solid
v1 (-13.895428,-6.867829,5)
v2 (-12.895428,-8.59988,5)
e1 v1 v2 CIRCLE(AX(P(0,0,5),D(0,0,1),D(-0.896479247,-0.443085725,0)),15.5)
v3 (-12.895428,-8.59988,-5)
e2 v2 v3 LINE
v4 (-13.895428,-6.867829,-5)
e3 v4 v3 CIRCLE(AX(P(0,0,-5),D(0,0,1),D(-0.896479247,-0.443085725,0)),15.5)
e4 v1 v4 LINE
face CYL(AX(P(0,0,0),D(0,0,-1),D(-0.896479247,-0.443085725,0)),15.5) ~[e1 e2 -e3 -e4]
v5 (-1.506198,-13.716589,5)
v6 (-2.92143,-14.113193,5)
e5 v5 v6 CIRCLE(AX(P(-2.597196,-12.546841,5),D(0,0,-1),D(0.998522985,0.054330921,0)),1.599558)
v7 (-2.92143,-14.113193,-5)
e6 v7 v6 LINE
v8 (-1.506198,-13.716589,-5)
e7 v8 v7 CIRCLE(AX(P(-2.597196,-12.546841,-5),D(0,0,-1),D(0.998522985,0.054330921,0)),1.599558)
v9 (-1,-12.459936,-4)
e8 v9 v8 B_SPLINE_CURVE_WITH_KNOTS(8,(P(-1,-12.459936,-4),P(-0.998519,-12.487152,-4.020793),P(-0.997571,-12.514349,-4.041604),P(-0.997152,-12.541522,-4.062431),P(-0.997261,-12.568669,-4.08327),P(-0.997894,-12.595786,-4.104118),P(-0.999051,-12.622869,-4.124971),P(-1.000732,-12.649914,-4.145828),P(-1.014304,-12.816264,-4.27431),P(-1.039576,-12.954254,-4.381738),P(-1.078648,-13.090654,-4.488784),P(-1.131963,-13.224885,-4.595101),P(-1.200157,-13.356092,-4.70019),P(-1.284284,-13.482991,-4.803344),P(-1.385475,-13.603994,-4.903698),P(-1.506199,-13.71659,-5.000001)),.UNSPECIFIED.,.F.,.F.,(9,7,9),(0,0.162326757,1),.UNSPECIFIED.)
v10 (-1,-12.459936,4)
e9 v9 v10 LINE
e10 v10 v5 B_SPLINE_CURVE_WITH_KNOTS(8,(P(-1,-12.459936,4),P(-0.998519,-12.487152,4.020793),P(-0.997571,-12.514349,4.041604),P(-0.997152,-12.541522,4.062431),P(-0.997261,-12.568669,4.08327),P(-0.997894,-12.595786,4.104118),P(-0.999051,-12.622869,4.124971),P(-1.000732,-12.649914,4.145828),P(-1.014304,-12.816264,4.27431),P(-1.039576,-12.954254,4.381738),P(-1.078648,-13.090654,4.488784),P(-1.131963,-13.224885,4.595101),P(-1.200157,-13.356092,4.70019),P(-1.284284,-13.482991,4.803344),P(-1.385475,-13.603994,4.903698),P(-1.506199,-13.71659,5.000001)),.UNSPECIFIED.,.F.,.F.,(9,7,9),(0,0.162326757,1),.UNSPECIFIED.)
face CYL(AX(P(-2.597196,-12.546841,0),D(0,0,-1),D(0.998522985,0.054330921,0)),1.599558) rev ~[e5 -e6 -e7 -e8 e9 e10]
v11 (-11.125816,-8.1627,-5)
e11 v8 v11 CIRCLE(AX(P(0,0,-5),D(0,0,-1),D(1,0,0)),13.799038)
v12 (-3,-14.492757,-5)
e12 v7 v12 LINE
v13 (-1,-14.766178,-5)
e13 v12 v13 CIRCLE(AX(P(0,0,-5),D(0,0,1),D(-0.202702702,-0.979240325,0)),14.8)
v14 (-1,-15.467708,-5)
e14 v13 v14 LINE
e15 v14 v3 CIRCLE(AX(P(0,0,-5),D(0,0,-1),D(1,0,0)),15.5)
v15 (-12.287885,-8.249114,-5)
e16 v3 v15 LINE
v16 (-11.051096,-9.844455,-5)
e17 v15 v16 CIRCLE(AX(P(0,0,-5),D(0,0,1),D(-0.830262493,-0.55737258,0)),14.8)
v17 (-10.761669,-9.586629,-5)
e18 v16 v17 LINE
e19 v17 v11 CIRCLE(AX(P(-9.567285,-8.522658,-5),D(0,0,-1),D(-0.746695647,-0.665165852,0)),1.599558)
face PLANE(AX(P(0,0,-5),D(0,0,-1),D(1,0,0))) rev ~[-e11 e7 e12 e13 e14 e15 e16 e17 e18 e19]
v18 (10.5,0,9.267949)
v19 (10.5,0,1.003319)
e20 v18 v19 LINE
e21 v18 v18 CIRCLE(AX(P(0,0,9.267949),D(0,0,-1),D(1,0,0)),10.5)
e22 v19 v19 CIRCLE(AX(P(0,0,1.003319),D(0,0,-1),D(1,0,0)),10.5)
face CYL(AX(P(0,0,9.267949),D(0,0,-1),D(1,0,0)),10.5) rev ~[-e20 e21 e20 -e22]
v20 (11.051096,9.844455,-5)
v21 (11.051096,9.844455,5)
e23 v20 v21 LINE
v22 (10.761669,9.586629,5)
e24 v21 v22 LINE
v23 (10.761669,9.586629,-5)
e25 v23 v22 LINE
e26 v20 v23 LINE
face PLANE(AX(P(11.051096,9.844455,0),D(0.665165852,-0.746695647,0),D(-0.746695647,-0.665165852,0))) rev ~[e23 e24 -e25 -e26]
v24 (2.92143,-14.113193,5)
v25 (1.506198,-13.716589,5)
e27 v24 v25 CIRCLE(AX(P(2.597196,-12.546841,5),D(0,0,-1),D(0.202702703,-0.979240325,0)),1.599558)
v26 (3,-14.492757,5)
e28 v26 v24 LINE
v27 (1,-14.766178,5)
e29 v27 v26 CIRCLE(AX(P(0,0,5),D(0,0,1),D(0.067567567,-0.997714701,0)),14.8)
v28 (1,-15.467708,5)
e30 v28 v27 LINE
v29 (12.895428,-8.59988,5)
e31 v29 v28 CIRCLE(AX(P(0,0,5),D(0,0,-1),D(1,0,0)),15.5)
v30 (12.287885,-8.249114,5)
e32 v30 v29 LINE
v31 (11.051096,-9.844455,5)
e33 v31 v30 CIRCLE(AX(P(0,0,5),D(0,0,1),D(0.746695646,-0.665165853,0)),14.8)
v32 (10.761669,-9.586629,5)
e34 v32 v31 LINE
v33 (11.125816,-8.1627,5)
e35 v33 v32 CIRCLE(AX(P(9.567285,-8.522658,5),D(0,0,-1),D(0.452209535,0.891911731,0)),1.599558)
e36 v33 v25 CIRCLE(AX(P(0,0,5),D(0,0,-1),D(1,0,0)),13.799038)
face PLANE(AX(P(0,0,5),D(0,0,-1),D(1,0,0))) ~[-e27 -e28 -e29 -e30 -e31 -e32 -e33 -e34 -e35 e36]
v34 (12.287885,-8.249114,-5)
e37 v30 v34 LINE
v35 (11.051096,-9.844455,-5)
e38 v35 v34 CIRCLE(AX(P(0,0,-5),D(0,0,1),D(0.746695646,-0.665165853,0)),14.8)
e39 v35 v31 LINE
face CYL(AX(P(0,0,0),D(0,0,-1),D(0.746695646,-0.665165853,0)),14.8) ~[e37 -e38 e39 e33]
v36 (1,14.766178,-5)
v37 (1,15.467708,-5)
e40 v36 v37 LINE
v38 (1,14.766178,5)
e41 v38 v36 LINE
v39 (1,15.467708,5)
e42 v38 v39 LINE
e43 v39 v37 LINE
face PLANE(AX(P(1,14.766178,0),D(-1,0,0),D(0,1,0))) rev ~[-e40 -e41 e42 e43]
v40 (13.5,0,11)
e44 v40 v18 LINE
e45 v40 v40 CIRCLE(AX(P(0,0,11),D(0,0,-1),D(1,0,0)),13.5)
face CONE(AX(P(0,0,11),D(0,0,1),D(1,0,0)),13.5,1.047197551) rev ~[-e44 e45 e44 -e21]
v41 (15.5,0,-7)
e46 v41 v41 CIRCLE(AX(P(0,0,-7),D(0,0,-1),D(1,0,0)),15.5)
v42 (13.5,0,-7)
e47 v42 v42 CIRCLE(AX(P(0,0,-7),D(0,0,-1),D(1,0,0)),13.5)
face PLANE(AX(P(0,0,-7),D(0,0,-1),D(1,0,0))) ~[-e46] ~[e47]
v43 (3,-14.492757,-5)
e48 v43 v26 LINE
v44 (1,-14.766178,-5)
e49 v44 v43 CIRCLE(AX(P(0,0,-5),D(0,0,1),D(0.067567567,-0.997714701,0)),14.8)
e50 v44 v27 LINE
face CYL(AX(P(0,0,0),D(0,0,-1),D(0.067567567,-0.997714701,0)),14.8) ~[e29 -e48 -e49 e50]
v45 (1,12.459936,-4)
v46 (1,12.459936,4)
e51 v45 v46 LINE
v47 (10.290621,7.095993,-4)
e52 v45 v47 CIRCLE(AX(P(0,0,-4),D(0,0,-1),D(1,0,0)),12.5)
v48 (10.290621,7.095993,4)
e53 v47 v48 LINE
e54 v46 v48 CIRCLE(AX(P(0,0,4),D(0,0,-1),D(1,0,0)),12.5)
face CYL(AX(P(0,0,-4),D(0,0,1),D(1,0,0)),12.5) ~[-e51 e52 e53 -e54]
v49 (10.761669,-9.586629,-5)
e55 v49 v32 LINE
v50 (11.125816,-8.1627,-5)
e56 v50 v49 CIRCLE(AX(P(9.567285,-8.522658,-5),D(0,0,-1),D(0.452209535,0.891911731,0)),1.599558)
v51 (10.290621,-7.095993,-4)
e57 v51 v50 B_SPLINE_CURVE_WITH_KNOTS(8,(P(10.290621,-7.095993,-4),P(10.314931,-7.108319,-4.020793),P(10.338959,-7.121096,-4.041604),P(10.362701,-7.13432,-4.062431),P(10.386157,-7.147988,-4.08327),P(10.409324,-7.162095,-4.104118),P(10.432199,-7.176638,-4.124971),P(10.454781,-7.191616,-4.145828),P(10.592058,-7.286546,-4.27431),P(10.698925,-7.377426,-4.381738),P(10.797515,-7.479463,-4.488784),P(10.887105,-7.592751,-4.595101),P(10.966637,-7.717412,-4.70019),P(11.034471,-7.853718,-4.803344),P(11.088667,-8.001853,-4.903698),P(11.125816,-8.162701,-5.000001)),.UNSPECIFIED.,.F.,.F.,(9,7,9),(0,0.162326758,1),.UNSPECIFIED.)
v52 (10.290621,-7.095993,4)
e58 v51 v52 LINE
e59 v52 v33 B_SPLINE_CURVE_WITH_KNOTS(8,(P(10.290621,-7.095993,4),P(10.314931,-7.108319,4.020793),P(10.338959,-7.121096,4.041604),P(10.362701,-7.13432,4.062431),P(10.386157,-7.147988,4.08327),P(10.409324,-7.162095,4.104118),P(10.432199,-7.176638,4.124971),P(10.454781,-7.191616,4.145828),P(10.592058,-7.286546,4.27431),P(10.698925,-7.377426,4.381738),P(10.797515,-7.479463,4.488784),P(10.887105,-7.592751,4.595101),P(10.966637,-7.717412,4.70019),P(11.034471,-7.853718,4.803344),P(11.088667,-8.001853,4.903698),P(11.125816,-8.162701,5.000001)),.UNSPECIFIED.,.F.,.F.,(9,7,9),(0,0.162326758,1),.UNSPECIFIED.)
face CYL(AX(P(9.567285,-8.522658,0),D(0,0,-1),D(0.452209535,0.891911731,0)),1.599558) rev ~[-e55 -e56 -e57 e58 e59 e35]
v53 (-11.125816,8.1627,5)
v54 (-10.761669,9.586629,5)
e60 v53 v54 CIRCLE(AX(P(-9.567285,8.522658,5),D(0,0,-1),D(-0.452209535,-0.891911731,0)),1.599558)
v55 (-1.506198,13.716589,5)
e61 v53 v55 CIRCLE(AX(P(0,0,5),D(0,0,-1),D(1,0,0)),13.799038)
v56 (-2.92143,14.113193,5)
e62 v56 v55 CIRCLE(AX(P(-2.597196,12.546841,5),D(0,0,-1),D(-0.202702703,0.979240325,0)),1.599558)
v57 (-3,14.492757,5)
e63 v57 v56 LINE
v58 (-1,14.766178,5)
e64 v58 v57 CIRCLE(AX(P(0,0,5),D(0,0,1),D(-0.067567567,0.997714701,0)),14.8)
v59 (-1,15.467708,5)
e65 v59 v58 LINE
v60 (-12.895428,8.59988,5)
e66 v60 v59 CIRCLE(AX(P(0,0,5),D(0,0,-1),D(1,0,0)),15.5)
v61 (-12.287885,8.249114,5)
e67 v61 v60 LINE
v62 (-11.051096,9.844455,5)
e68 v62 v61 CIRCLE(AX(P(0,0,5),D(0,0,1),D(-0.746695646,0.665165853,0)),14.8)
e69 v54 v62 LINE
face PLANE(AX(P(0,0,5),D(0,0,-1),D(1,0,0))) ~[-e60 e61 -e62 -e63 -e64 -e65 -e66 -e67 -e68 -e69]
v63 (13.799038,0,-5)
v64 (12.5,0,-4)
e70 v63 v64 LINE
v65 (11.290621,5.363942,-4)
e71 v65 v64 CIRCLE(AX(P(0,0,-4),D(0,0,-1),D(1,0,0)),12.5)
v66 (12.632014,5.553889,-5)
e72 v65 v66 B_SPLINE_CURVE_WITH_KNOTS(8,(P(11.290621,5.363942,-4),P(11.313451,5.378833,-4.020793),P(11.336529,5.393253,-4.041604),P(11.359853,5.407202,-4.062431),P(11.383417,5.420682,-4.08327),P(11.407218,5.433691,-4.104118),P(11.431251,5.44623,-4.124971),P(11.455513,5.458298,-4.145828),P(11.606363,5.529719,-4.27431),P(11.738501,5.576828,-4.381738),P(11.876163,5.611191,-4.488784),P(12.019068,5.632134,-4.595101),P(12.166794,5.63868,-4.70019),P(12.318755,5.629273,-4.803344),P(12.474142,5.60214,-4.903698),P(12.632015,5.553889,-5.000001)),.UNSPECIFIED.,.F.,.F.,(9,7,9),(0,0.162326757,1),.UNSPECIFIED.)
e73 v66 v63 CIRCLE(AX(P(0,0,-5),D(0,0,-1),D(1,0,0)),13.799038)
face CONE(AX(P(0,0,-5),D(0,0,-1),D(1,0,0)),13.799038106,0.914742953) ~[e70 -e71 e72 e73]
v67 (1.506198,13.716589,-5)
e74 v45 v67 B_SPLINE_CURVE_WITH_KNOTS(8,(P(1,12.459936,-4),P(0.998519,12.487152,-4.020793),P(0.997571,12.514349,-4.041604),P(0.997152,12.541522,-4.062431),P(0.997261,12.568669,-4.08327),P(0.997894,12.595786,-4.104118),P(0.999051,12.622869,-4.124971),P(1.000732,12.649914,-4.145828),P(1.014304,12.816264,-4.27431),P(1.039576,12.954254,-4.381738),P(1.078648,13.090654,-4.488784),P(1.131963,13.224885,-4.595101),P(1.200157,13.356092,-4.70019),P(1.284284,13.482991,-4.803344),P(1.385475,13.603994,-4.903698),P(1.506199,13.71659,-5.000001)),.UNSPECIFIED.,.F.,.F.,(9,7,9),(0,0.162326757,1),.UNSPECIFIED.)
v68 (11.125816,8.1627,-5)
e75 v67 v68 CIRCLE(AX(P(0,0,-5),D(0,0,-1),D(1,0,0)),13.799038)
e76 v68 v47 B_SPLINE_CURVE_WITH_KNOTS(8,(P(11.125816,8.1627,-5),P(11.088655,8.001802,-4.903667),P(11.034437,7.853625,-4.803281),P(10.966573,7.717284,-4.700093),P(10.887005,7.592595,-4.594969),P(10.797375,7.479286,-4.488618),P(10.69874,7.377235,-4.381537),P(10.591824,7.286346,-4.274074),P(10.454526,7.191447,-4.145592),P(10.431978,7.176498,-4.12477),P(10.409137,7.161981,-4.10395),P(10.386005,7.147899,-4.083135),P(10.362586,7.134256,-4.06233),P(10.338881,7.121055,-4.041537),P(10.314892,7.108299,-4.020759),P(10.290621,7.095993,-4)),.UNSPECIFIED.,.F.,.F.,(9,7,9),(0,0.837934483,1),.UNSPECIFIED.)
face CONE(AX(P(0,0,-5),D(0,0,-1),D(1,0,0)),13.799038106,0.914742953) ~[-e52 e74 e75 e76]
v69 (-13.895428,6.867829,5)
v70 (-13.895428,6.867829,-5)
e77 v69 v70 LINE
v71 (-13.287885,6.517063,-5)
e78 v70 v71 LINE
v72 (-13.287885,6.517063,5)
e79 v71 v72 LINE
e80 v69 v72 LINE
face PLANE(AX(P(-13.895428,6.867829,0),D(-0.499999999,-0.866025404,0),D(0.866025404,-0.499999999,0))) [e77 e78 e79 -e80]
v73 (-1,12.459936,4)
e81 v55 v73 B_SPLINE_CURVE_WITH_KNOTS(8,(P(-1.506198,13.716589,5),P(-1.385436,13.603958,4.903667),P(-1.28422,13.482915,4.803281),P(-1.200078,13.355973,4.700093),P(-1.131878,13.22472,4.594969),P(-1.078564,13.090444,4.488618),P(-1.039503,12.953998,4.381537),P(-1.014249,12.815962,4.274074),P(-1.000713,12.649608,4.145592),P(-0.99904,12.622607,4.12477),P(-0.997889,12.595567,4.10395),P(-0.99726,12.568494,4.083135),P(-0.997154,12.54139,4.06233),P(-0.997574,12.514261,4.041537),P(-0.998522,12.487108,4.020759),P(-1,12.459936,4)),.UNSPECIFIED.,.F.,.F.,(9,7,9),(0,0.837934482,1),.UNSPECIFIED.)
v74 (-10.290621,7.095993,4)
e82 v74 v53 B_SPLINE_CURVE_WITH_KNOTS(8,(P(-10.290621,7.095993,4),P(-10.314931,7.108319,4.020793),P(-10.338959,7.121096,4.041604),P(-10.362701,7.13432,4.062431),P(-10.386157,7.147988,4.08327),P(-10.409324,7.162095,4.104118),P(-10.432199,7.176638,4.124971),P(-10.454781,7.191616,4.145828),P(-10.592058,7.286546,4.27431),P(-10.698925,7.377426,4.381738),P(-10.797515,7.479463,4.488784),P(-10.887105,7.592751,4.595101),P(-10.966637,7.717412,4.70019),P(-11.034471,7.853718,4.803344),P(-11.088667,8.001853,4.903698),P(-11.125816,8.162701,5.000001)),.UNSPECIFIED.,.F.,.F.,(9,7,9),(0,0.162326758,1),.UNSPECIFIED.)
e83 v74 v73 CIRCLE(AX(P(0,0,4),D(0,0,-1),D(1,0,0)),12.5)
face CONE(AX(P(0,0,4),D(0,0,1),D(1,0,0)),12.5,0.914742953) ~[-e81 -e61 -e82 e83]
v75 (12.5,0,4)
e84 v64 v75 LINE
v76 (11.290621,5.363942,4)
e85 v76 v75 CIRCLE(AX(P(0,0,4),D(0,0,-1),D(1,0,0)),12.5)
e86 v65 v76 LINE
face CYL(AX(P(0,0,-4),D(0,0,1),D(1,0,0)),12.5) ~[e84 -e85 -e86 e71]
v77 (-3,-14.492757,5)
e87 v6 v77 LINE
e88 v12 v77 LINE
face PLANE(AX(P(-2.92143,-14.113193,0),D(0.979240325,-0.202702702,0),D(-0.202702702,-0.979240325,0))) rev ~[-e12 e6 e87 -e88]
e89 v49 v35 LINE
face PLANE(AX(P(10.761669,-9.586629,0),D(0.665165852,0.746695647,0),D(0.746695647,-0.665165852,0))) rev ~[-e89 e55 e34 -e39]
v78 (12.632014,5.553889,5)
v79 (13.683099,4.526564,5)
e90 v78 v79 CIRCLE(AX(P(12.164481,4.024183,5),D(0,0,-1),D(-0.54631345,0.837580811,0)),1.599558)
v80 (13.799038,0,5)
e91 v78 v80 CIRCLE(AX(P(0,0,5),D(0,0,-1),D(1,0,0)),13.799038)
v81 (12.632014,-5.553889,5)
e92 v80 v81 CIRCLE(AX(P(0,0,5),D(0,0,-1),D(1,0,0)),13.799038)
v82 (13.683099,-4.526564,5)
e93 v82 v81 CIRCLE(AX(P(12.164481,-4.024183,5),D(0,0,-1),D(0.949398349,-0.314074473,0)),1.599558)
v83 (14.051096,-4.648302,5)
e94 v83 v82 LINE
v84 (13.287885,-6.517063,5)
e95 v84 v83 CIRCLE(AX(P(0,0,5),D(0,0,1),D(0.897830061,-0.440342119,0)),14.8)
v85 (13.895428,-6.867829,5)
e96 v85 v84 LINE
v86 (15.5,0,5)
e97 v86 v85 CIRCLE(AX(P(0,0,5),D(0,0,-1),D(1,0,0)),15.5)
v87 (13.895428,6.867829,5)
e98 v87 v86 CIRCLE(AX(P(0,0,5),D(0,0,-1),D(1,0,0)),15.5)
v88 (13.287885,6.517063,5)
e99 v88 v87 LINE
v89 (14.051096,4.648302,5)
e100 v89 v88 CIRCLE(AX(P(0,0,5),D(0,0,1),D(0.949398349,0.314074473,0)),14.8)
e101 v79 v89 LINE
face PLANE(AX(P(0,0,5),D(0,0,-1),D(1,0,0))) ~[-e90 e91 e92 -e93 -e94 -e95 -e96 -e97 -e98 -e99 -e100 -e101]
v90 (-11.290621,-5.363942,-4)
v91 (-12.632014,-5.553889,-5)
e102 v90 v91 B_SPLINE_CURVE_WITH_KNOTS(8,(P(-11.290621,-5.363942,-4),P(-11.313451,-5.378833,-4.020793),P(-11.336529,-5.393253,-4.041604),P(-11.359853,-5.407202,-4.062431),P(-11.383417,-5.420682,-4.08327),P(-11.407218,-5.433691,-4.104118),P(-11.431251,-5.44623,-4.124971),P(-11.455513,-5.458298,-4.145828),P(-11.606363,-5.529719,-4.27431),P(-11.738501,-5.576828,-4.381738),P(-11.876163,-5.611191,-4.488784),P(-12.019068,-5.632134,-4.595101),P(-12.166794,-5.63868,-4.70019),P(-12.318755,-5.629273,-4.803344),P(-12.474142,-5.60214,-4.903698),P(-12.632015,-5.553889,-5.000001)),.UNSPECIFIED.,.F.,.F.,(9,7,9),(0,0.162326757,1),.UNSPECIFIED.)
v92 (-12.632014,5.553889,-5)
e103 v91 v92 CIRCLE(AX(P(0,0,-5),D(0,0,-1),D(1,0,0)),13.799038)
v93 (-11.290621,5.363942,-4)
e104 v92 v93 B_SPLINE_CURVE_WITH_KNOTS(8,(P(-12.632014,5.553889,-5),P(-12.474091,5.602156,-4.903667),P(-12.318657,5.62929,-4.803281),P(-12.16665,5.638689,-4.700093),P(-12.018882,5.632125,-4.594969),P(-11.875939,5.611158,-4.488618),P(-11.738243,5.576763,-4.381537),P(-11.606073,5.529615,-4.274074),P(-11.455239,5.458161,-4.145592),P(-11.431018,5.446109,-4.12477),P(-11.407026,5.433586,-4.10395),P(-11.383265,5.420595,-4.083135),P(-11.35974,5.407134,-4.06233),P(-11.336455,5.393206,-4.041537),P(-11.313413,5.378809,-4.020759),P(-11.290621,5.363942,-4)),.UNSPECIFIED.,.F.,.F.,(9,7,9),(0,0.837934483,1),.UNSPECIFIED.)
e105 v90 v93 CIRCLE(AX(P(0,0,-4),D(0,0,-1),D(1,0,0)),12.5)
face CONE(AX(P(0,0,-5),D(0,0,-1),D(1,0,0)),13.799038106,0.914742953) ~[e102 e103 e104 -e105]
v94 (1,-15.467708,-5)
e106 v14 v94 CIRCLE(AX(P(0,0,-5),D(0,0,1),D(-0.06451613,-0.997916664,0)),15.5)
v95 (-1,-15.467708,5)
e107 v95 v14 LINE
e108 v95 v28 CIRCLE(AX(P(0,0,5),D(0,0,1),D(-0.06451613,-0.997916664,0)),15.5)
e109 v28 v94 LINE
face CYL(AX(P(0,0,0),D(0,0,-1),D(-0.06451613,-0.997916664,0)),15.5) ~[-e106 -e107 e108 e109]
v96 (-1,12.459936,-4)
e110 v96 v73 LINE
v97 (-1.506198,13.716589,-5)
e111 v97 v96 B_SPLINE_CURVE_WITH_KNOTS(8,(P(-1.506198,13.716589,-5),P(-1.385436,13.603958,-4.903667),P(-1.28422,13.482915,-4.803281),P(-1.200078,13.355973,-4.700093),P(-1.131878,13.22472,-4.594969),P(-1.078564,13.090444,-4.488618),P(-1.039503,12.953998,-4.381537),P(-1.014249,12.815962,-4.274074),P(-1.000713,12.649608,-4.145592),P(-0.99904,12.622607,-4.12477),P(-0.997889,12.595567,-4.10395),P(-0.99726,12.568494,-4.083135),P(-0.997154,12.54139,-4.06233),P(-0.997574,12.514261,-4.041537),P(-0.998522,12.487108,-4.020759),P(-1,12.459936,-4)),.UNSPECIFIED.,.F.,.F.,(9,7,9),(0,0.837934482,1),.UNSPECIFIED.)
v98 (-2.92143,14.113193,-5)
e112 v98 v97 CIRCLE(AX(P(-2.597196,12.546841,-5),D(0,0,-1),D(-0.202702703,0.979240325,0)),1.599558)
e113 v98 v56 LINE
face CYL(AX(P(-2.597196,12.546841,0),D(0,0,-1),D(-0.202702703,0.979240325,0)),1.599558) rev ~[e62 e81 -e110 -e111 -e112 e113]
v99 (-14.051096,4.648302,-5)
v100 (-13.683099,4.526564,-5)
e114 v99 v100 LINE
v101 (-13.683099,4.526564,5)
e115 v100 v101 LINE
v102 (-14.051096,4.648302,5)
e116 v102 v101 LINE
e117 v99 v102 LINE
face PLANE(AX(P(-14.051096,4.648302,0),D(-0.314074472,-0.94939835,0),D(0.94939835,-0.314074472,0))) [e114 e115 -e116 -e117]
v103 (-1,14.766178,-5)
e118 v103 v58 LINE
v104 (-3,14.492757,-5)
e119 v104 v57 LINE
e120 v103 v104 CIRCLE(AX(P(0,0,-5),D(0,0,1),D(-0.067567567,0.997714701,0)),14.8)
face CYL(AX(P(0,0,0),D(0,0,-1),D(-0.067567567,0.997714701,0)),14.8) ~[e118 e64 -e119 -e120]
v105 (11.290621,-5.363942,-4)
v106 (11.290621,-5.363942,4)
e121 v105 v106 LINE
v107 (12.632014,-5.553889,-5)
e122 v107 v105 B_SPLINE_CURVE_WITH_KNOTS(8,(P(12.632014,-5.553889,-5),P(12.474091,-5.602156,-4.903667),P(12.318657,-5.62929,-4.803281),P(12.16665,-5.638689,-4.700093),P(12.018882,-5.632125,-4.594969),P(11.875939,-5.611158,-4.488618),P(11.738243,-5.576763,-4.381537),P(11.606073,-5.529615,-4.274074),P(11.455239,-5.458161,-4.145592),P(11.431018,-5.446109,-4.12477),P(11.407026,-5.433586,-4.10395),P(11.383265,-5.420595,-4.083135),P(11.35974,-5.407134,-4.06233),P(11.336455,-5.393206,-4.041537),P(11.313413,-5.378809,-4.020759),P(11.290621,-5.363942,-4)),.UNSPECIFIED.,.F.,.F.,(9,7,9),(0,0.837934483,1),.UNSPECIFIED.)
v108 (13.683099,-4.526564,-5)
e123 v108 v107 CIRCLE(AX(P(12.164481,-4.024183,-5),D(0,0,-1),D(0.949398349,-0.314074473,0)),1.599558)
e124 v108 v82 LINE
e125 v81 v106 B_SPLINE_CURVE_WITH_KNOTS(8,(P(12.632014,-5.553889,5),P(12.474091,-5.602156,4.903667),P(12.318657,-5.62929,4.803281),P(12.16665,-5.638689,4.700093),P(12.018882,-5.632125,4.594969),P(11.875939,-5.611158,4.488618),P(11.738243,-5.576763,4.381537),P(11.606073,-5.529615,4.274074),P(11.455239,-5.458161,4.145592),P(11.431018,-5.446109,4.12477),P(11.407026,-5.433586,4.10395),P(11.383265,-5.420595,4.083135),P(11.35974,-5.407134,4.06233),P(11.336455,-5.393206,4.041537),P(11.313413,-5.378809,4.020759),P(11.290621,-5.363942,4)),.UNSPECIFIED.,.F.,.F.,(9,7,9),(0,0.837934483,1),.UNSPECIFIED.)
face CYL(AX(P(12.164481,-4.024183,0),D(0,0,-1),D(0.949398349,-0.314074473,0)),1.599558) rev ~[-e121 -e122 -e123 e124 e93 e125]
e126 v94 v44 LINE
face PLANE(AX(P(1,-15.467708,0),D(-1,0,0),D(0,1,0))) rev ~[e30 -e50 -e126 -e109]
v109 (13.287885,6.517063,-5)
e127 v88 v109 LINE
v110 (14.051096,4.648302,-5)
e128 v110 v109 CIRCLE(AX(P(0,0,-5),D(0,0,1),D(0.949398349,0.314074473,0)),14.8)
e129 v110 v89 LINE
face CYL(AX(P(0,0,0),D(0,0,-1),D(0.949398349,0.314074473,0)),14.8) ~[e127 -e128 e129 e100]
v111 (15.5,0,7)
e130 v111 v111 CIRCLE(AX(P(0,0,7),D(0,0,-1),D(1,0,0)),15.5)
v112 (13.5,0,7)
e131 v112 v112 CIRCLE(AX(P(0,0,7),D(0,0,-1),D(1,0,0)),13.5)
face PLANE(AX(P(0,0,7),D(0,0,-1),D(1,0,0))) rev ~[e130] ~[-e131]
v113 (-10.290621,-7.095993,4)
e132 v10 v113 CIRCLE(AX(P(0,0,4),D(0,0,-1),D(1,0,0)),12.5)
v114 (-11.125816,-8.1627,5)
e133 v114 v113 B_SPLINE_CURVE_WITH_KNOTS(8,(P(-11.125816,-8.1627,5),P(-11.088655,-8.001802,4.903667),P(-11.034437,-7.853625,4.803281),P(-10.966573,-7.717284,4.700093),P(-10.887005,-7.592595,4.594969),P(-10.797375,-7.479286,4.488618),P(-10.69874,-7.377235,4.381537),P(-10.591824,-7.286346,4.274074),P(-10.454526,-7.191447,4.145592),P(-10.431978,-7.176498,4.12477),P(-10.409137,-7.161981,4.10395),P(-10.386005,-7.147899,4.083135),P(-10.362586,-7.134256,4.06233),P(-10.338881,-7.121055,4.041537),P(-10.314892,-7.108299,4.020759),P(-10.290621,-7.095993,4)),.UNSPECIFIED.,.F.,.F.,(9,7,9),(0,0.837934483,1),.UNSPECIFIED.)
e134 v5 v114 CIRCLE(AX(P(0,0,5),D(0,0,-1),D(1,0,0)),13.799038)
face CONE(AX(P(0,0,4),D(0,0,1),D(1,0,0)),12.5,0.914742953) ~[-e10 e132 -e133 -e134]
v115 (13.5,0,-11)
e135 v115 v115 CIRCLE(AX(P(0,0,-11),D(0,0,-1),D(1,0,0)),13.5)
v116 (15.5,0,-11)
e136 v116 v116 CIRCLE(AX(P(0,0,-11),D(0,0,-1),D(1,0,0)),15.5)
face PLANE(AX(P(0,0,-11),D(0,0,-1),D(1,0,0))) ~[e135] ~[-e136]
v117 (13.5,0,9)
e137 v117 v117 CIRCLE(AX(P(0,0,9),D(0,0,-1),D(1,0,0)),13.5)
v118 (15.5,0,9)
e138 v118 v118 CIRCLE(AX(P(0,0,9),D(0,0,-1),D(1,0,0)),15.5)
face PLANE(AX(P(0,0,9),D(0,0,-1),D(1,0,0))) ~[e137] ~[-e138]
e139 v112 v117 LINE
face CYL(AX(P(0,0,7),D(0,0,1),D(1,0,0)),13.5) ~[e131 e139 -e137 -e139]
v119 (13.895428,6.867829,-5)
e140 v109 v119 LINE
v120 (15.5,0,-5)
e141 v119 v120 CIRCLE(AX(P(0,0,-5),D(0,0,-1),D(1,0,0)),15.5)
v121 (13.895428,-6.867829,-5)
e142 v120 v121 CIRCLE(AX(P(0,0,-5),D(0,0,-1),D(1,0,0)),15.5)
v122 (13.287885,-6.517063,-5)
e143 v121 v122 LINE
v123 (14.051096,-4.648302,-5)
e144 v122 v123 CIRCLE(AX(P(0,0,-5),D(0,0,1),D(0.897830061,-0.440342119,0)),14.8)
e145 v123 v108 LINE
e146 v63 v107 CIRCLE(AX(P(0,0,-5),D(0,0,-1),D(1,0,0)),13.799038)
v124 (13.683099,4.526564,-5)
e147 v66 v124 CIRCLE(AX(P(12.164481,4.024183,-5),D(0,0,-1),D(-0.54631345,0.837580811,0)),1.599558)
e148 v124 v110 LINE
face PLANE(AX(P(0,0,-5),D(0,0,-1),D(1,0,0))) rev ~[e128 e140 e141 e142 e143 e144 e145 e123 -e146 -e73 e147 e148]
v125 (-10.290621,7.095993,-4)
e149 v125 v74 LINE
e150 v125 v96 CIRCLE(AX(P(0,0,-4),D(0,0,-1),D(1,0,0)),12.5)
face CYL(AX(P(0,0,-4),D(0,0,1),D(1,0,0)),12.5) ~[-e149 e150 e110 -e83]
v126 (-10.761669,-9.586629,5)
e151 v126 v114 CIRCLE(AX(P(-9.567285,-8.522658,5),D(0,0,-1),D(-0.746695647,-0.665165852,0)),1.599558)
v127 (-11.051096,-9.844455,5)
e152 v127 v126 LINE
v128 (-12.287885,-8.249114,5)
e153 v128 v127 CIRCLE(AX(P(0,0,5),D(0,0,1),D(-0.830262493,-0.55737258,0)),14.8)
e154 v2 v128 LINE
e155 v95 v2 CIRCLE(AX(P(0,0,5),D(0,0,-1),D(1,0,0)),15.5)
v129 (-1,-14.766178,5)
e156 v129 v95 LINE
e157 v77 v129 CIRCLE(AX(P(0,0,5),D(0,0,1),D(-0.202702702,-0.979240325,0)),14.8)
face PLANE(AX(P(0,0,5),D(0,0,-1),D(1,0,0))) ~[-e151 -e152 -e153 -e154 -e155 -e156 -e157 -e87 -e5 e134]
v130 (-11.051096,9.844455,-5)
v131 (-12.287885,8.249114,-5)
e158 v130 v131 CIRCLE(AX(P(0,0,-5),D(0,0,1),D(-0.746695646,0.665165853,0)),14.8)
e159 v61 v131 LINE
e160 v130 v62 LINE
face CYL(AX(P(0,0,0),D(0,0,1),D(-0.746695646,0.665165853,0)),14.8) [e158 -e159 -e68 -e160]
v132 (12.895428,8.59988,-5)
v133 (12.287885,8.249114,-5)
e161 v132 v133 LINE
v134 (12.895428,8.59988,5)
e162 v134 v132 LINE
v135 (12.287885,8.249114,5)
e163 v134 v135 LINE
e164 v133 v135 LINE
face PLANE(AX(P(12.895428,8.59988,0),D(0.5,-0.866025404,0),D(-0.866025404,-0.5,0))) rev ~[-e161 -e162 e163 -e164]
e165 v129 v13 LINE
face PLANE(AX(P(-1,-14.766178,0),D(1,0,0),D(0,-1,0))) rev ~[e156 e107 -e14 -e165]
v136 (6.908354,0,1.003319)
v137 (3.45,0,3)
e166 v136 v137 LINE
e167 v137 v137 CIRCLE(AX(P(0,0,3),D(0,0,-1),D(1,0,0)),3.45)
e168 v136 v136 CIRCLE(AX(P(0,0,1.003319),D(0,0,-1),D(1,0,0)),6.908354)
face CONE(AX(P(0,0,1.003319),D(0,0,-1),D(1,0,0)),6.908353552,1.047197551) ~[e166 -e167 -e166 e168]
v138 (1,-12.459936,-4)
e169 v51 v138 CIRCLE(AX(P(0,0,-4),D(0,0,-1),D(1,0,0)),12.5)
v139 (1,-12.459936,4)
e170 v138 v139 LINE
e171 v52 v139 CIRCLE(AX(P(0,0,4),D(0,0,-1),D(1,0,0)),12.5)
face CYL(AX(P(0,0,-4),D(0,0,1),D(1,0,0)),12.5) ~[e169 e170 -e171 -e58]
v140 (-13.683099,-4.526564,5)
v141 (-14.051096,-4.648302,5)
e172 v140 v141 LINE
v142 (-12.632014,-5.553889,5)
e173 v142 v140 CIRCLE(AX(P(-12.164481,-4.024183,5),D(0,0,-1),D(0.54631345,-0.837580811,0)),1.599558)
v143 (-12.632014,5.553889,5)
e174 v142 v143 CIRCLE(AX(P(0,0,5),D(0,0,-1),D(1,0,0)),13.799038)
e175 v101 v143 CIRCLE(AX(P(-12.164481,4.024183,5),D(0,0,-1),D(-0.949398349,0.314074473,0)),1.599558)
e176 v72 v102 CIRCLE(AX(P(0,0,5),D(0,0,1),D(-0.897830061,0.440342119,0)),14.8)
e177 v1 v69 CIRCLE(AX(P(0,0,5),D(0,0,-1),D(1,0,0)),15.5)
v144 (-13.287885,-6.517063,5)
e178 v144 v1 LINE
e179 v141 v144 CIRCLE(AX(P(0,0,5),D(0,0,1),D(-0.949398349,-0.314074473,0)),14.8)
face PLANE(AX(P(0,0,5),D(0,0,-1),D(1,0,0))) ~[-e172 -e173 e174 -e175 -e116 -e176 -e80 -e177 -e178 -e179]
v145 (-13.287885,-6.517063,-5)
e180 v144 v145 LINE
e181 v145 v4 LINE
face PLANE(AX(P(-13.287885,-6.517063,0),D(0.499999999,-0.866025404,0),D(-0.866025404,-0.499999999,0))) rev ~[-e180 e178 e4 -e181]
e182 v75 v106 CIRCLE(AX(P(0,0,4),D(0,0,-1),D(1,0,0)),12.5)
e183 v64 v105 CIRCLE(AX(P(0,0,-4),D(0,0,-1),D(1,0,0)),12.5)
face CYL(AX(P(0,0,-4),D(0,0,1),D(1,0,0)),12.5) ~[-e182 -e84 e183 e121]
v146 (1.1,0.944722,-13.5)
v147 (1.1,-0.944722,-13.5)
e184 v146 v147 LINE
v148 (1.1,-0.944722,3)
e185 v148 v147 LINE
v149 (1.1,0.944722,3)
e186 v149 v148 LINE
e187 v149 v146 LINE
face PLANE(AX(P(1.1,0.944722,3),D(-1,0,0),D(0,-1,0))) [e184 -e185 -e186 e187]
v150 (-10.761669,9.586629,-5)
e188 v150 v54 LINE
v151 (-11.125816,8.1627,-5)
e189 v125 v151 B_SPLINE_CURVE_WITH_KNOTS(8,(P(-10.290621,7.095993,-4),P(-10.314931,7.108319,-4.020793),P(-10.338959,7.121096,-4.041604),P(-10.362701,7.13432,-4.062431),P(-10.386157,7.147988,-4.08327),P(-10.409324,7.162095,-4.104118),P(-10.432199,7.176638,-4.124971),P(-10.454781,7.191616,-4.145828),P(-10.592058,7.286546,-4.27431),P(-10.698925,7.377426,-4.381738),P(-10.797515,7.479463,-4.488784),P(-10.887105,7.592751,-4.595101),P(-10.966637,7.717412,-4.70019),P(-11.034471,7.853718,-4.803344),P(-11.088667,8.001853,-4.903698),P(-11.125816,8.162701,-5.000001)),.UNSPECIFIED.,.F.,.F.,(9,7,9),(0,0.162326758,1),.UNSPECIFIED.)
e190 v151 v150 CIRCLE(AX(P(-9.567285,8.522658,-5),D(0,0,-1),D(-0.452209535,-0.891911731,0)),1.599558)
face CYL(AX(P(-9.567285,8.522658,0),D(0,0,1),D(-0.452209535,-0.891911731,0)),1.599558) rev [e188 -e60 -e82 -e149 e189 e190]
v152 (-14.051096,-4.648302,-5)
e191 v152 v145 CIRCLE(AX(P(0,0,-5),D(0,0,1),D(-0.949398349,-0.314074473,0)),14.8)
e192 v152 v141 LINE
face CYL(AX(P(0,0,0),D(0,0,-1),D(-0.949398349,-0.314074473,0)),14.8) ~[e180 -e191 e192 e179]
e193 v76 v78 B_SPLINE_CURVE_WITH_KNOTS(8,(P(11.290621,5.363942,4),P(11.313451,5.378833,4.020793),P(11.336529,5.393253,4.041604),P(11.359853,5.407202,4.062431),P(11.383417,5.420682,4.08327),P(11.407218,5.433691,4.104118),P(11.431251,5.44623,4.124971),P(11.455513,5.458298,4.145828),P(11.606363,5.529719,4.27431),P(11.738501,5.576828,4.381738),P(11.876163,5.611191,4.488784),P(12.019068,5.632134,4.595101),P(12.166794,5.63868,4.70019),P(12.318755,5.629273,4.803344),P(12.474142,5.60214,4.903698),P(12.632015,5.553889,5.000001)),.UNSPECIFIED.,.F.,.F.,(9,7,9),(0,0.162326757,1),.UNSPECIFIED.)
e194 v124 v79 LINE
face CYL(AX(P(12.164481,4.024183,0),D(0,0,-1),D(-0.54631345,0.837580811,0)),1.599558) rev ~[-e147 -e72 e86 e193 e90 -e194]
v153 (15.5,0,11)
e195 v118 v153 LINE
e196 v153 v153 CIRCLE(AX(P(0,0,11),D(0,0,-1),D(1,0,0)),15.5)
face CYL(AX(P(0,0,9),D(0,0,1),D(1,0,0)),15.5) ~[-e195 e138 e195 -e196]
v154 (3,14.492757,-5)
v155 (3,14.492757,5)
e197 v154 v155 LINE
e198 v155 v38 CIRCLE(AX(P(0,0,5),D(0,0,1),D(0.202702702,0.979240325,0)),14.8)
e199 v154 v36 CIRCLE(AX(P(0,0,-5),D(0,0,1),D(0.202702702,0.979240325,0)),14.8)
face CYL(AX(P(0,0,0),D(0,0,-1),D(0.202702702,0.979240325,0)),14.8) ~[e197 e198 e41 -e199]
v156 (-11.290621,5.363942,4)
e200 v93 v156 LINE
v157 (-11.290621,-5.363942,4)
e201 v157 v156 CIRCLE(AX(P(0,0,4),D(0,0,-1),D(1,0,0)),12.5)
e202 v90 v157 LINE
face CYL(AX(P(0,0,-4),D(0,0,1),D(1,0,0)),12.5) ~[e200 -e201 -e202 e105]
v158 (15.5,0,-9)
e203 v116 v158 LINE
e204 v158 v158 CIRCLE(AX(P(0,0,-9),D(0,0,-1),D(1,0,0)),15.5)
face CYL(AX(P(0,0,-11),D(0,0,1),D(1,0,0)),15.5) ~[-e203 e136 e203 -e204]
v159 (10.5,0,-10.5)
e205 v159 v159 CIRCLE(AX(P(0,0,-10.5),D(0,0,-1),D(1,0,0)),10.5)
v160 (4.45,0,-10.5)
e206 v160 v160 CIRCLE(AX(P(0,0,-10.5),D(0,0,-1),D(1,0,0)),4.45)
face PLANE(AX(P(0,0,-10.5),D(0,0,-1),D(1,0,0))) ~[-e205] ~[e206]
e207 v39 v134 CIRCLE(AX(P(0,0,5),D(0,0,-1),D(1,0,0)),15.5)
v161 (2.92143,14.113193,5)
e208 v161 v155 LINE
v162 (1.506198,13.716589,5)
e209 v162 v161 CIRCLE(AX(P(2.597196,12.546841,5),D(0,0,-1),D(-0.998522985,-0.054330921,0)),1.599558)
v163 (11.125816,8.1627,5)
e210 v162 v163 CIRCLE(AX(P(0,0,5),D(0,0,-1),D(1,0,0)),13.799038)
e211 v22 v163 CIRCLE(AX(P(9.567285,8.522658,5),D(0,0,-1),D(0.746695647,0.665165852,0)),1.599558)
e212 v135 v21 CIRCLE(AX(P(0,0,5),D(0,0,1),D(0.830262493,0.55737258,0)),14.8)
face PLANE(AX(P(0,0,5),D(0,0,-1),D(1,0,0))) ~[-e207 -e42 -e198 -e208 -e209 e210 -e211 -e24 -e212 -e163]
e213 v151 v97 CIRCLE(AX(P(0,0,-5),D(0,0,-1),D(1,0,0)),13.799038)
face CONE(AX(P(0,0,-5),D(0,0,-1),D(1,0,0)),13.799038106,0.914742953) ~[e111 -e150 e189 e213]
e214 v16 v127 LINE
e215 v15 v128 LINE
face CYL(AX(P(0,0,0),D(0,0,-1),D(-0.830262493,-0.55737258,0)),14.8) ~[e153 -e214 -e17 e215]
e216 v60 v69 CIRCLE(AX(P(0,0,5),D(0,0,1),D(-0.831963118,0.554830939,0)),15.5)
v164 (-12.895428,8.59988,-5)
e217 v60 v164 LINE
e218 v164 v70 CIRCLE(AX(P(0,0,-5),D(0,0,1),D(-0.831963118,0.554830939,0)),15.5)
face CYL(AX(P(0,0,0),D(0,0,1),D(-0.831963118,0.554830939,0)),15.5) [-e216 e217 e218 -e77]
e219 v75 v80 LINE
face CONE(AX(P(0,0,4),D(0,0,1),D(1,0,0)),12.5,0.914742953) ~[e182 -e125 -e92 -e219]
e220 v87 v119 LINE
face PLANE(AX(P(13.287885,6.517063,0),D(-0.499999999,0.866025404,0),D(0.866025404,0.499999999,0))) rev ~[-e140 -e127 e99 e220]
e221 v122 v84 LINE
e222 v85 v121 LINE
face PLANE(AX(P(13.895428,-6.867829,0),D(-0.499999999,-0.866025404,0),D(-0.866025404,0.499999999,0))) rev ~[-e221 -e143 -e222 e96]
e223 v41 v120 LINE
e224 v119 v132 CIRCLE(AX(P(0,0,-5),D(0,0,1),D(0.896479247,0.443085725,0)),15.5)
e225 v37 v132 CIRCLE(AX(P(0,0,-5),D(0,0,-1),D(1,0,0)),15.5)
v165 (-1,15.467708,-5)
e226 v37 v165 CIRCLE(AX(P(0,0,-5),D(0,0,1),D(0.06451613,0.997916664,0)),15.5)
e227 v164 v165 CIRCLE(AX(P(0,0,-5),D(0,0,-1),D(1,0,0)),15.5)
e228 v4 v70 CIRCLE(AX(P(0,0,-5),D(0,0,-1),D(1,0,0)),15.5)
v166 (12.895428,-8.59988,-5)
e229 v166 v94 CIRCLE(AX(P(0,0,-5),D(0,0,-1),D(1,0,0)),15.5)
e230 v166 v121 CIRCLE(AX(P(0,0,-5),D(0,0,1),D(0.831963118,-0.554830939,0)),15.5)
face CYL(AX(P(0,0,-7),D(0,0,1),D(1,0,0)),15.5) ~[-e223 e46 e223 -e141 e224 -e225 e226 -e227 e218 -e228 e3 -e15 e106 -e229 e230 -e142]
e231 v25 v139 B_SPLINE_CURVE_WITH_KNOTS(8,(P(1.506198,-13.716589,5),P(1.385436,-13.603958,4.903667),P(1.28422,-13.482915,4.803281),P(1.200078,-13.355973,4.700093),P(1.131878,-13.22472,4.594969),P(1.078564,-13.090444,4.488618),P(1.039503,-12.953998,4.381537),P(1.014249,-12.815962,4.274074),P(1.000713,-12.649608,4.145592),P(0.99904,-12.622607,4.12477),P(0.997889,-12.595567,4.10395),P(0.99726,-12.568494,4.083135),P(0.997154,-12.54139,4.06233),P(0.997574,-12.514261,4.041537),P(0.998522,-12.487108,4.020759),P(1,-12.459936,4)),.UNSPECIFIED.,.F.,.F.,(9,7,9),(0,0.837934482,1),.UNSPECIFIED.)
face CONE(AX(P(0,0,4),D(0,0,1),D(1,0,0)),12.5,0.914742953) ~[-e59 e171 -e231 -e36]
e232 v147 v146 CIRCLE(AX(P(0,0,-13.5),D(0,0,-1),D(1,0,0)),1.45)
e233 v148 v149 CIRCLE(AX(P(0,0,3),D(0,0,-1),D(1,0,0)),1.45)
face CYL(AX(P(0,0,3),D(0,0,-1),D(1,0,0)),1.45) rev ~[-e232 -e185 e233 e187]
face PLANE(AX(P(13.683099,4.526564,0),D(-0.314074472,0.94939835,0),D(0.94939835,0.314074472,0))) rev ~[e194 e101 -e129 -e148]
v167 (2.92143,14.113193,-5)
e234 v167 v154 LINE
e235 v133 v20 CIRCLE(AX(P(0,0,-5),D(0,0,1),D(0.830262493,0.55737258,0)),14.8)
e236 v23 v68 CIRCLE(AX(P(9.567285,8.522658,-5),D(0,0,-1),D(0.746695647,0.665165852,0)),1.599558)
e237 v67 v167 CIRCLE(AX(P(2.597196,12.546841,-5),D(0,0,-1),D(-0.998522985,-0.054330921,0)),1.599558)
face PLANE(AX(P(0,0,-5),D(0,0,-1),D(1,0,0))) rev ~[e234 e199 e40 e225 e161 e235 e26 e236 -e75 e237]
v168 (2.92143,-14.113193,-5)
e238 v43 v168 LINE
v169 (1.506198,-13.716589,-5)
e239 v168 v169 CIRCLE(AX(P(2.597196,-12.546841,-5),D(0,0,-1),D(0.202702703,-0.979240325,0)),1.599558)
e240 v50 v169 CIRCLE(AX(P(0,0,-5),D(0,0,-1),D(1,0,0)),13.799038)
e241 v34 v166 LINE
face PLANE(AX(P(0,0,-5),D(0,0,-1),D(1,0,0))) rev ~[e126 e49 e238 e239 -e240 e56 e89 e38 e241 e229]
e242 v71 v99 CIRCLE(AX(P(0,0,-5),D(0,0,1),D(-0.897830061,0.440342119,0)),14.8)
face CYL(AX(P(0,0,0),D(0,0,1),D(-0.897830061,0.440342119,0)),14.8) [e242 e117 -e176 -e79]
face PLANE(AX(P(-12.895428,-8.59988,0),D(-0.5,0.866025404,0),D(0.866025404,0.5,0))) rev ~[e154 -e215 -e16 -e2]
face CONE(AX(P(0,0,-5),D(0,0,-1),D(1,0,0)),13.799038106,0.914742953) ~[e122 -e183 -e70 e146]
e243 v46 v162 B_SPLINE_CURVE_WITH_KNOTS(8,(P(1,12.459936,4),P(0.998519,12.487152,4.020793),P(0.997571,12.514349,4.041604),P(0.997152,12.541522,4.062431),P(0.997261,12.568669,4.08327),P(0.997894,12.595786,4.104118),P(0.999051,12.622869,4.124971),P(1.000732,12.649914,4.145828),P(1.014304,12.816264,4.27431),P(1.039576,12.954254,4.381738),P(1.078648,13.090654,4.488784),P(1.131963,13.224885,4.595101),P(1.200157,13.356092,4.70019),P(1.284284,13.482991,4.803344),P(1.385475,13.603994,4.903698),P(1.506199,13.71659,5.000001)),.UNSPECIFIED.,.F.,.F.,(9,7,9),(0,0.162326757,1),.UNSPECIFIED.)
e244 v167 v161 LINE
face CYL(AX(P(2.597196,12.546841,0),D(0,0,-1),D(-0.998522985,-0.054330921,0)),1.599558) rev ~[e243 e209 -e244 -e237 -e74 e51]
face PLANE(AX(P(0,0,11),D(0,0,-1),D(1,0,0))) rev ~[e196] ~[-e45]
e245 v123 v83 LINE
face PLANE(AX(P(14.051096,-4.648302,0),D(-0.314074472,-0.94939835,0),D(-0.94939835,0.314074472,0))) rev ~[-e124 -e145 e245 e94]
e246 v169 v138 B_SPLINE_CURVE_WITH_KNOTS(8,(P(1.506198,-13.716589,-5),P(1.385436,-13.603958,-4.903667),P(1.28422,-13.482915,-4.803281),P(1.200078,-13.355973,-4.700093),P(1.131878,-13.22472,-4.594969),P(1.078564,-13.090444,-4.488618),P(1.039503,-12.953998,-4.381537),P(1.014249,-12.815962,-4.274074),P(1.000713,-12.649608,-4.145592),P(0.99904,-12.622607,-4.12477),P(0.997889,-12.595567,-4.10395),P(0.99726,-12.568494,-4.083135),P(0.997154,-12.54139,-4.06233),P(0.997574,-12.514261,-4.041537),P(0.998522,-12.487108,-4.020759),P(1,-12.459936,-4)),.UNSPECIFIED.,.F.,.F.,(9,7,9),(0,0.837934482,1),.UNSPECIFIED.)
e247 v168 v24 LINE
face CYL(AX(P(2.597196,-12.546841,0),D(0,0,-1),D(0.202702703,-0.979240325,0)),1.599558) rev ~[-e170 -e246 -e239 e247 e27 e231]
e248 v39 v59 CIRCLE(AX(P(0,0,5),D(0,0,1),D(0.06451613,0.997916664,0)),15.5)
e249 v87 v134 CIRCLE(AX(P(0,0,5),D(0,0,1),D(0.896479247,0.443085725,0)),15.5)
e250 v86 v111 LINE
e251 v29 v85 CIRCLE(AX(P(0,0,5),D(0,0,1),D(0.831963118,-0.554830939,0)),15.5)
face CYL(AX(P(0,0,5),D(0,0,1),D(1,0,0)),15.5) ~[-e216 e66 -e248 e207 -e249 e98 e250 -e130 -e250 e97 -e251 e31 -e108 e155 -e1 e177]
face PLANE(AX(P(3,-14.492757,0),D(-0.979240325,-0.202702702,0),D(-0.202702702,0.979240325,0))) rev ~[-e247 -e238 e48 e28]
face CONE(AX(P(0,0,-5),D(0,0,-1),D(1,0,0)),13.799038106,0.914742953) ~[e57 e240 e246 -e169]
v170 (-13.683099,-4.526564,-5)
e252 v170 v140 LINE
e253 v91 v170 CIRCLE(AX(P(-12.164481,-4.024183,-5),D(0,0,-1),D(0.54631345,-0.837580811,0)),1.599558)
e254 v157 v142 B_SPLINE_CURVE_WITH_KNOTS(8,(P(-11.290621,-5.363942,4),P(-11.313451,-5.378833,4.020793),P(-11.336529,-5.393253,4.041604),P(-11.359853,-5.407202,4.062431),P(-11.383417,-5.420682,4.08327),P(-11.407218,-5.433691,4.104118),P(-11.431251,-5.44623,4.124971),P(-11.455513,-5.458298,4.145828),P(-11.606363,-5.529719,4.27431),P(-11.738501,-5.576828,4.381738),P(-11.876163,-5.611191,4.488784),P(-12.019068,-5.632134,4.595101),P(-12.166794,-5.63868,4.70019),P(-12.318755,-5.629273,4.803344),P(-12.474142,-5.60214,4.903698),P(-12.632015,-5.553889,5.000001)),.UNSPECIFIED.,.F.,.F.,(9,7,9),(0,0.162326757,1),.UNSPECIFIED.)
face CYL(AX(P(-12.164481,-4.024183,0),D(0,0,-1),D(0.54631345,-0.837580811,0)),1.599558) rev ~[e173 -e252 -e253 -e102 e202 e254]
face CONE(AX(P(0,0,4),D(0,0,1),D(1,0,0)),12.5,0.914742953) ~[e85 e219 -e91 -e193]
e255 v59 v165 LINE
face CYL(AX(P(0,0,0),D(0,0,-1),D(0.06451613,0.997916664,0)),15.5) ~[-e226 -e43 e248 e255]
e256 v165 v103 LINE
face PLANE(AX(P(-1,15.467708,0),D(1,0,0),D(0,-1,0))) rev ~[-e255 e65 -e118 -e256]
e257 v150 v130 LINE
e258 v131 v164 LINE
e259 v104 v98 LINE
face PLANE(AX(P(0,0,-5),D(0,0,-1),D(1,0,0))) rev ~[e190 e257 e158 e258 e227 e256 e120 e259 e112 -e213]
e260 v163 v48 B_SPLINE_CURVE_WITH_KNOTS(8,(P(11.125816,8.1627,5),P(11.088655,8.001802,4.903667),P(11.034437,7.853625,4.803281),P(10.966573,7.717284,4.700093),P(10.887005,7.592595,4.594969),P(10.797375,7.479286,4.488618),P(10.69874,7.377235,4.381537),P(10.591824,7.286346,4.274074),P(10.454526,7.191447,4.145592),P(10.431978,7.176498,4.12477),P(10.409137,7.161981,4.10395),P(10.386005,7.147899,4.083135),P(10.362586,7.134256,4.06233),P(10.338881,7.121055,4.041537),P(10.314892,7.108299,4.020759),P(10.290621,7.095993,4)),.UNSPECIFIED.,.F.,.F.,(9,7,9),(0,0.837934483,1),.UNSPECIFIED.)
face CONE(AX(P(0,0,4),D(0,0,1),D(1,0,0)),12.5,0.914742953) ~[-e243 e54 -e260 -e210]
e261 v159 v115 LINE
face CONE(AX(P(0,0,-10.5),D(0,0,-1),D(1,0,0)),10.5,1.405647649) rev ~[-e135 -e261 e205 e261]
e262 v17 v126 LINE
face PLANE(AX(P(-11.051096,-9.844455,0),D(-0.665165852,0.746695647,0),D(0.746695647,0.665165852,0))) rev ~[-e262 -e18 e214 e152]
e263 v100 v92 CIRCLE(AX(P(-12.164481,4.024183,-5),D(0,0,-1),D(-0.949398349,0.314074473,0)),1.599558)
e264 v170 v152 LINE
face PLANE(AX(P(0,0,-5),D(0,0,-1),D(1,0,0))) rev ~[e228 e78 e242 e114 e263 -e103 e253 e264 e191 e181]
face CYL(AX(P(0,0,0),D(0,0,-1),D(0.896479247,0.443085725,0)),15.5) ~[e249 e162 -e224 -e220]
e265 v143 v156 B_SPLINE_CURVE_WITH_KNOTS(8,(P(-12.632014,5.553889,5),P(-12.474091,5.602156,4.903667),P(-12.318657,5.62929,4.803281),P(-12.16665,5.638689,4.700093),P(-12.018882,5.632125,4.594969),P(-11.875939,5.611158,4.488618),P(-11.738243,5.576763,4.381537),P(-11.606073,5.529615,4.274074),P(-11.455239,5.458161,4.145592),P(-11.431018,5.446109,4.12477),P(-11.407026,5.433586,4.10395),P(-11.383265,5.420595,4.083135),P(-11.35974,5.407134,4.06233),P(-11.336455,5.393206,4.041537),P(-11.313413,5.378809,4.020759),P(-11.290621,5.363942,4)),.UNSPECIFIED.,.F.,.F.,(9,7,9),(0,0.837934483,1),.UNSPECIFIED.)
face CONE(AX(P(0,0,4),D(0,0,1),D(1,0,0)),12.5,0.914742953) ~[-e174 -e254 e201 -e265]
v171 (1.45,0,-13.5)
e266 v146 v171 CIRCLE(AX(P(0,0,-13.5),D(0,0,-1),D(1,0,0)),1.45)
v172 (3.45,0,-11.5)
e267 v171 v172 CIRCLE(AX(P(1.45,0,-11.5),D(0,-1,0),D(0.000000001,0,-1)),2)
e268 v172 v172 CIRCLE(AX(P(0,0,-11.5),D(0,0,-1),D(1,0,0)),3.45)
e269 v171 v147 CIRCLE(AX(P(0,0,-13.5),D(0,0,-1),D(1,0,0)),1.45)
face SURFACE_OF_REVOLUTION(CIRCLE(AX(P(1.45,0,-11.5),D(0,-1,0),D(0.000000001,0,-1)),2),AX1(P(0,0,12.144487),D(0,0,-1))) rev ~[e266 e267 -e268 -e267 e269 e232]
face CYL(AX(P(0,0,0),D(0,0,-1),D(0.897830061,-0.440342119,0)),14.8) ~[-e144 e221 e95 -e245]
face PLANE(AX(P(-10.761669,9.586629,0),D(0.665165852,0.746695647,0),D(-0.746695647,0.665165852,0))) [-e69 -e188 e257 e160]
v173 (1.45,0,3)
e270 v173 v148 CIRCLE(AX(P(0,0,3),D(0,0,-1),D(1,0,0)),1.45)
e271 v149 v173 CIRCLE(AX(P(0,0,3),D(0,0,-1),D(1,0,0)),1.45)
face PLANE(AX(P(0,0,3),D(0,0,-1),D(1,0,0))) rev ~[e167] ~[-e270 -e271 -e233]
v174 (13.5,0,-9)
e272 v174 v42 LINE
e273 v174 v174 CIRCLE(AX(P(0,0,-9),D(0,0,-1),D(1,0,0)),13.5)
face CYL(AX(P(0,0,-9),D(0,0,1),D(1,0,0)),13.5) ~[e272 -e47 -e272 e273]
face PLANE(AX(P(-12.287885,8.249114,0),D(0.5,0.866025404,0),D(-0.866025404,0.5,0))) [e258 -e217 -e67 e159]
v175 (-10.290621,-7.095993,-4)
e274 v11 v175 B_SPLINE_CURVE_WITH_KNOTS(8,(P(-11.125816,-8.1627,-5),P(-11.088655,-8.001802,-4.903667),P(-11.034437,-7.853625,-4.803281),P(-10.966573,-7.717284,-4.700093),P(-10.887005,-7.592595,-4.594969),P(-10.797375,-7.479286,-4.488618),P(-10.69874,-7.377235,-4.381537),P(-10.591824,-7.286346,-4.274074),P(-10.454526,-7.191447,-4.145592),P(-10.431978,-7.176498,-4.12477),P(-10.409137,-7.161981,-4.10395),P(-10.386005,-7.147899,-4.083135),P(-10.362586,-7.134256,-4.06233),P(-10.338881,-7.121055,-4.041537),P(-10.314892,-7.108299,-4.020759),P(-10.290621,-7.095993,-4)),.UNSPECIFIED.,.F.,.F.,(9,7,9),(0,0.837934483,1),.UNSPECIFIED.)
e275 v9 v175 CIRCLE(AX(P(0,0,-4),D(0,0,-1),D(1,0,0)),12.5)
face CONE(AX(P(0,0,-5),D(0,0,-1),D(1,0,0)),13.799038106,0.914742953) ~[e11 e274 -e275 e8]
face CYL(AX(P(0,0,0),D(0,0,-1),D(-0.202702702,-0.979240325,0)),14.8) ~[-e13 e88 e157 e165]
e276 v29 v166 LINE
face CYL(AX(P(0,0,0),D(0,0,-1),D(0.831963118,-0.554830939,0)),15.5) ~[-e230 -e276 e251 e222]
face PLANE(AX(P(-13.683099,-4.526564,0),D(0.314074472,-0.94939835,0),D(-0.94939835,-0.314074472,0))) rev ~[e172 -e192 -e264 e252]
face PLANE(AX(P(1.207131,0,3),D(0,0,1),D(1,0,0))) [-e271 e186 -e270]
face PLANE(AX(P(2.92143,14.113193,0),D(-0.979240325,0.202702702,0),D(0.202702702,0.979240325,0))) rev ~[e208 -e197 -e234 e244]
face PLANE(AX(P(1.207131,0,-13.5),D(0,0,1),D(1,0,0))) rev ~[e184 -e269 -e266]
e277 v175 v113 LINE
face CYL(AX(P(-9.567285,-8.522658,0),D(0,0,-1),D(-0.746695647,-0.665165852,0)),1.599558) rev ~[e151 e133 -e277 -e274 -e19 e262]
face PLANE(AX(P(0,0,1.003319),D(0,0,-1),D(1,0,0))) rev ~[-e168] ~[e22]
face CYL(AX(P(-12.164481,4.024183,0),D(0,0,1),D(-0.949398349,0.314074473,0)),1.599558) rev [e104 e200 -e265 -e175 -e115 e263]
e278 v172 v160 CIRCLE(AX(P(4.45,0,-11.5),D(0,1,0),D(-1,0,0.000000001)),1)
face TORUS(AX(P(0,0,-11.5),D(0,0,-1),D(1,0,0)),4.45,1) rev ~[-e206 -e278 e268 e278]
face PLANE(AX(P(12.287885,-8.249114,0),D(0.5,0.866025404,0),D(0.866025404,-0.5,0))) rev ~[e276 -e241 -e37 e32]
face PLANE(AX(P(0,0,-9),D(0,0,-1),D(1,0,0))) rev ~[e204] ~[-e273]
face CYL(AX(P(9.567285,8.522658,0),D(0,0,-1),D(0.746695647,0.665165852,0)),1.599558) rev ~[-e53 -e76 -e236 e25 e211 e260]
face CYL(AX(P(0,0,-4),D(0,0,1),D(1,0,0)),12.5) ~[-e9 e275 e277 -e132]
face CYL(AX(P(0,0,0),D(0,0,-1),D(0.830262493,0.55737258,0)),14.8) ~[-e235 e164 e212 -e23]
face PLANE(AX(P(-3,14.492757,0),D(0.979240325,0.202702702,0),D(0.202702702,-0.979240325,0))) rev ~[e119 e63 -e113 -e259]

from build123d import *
from build123d.topology import SkipClean

# Parameters (mm, degrees)
EXTRUDE_1_DEPTH = 5
EXTRUDE_2_DEPTH = 16.5


with BuildPart() as part:
    # Эскиз2 → Повернуть1 (revolve)
    with BuildSketch(Plane(origin=(0, 0, 0), x_dir=(0, 0, -1), z_dir=(1, 0, 0)), mode=Mode.PRIVATE) as revolve_1_sk:
        with BuildLine():
            Line((4, 12.5), (-4, 12.5))
            Line((-4, 12.5), (-5, 13.799038106))
            Line((-5, 13.799038106), (-5, 15.5))
            Line((-5, 15.5), (-7, 15.5))
            Line((-7, 15.5), (-7, 13.5))
            Line((-7, 13.5), (-9, 13.5))
            Line((-9, 13.5), (-9, 15.5))
            Line((-9, 15.5), (-11, 15.5))
            Line((-11, 15.5), (-11, 13.5))
            Line((-11, 13.5), (-9.267949192, 10.5))
            Line((-9.267949192, 10.5), (-1.003318646, 10.5))
            Line((-1.003318646, 10.5), (-1.003318646, 6.908353552))
            Line((-1.003318646, 6.908353552), (-3, 3.45))
            Line((-3, 3.45), (-3, 1.45))
            Line((-3, 1.45), (10.5, 1.45))
            Line((10.5, 1.45), (13.5, 1.45))
            ThreePointArc((13.5, 1.45), (12.914213562, 2.864213562), (11.5, 3.45))
            ThreePointArc((11.5, 3.45), (10.792893219, 3.742893219), (10.5, 4.45))
            Line((10.5, 4.45), (10.5, 10.5))
            Line((10.5, 10.5), (11, 13.5))
            Line((11, 13.5), (11, 15.5))
            Line((11, 15.5), (9, 15.5))
            Line((9, 15.5), (9, 13.5))
            Line((9, 13.5), (7, 13.5))
            Line((7, 13.5), (7, 15.5))
            Line((7, 15.5), (5, 15.5))
            Line((5, 15.5), (5, 13.799038106))
            Line((5, 13.799038106), (4, 12.5))
        make_face()
    revolve(revolve_1_sk.sketch.rotate(Axis((0, 0, 12.144486905), (0, 0, -1)), 90), axis=Axis((0, 0, 12.144486905), (0, 0, -1)))

    # Эскиз4 → Бобышка-Вытянуть1 (add, symmetric)
    with SkipClean():  # the faces are left unmerged after this step: merging them gives an invalid solid
        with BuildSketch(Plane.XY):
            with BuildLine():
                Line((-1, 15.467708298), (-1, 14.766177569))
                ThreePointArc((-1, 14.766177569), (-2.004666987, 14.663604955), (-3, 14.492756812))
                Line((-3, 14.492756812), (-2.921430328, 14.113193095))
                ThreePointArc((-2.921430328, 14.113193095), (-1.553920806, 13.759344463), (-1, 12.459935794))
                ThreePointArc((-1, 12.459935794), (0, 12.5), (1, 12.459935794))
                ThreePointArc((1, 12.459935794), (1.553920806, 13.759344463), (2.921430328, 14.113193095))
                Line((2.921430328, 14.113193095), (3, 14.492756812))
                ThreePointArc((3, 14.492756812), (2.004666987, 14.663604955), (1, 14.766177569))
                Line((1, 14.766177569), (1, 15.467708298))
                ThreePointArc((1, 15.467708298), (0, 15.5), (-1, 15.467708298))
            make_face()
            with BuildLine():
                Line((12.895428325, 8.599879553), (12.287884892, 8.249114188))
                ThreePointArc((12.287884892, 8.249114188), (11.696720909, 9.067895014), (11.05109557, 9.844454617))
                Line((11.05109557, 9.844454617), (10.761668585, 9.586629427))
                ThreePointArc((10.761668585, 9.586629427), (11.138981441, 8.225407125), (10.290620927, 7.095993301))
                ThreePointArc((10.290620927, 7.095993301), (10.825317547, 6.25), (11.290620927, 5.363942493))
                ThreePointArc((11.290620927, 5.363942493), (12.692902247, 5.533937338), (13.683098913, 4.526563668))
                Line((13.683098913, 4.526563668), (14.05109557, 4.648302194))
                ThreePointArc((14.05109557, 4.648302194), (13.701387895, 5.595709941), (13.287884892, 6.517063381))
                Line((13.287884892, 6.517063381), (13.895428325, 6.867828745))
                ThreePointArc((13.895428325, 6.867828745), (13.423393759, 7.75), (12.895428325, 8.599879553))
            make_face()
            with BuildLine():
                Line((13.895428325, -6.867828745), (13.287884892, -6.517063381))
                ThreePointArc((13.287884892, -6.517063381), (13.701387895, -5.595709941), (14.05109557, -4.648302194))
                Line((14.05109557, -4.648302194), (13.683098913, -4.526563668))
                ThreePointArc((13.683098913, -4.526563668), (12.692902247, -5.533937338), (11.290620927, -5.363942493))
                ThreePointArc((11.290620927, -5.363942493), (10.825317547, -6.25), (10.290620927, -7.095993301))
                ThreePointArc((10.290620927, -7.095993301), (11.138981441, -8.225407125), (10.761668585, -9.586629427))
                Line((10.761668585, -9.586629427), (11.05109557, -9.844454617))
                ThreePointArc((11.05109557, -9.844454617), (11.696720909, -9.067895014), (12.287884892, -8.249114188))
                Line((12.287884892, -8.249114188), (12.895428325, -8.599879553))
                ThreePointArc((12.895428325, -8.599879553), (13.423393759, -7.75), (13.895428325, -6.867828745))
            make_face()
            with BuildLine():
                Line((1, -15.467708298), (1, -14.766177569))
                ThreePointArc((1, -14.766177569), (2.004666987, -14.663604955), (3, -14.492756812))
                Line((3, -14.492756812), (2.921430328, -14.113193095))
                ThreePointArc((2.921430328, -14.113193095), (1.553920806, -13.759344463), (1, -12.459935794))
                ThreePointArc((1, -12.459935794), (0, -12.5), (-1, -12.459935794))
                ThreePointArc((-1, -12.459935794), (-1.553920806, -13.759344463), (-2.921430328, -14.113193095))
                Line((-2.921430328, -14.113193095), (-3, -14.492756812))
                ThreePointArc((-3, -14.492756812), (-2.004666987, -14.663604955), (-1, -14.766177569))
                Line((-1, -14.766177569), (-1, -15.467708298))
                ThreePointArc((-1, -15.467708298), (0, -15.5), (1, -15.467708298))
            make_face()
            with BuildLine():
                Line((-12.895428325, -8.599879553), (-12.287884892, -8.249114188))
                ThreePointArc((-12.287884892, -8.249114188), (-11.696720909, -9.067895014), (-11.05109557, -9.844454617))
                Line((-11.05109557, -9.844454617), (-10.761668585, -9.586629427))
                ThreePointArc((-10.761668585, -9.586629427), (-11.138981441, -8.225407125), (-10.290620927, -7.095993301))
                ThreePointArc((-10.290620927, -7.095993301), (-10.825317547, -6.25), (-11.290620927, -5.363942493))
                ThreePointArc((-11.290620927, -5.363942493), (-12.692902247, -5.533937338), (-13.683098913, -4.526563668))
                Line((-13.683098913, -4.526563668), (-14.05109557, -4.648302194))
                ThreePointArc((-14.05109557, -4.648302194), (-13.701387895, -5.595709941), (-13.287884892, -6.517063381))
                Line((-13.287884892, -6.517063381), (-13.895428325, -6.867828745))
                ThreePointArc((-13.895428325, -6.867828745), (-13.423393759, -7.75), (-12.895428325, -8.599879553))
            make_face()
            with BuildLine():
                Line((-13.895428325, 6.867828745), (-13.287884892, 6.517063381))
                ThreePointArc((-13.287884892, 6.517063381), (-13.701387895, 5.595709941), (-14.05109557, 4.648302194))
                Line((-14.05109557, 4.648302194), (-13.683098913, 4.526563668))
                ThreePointArc((-13.683098913, 4.526563668), (-12.692902247, 5.533937338), (-11.290620927, 5.363942493))
                ThreePointArc((-11.290620927, 5.363942493), (-10.825317547, 6.25), (-10.290620927, 7.095993301))
                ThreePointArc((-10.290620927, 7.095993301), (-11.138981441, 8.225407125), (-10.761668585, 9.586629427))
                Line((-10.761668585, 9.586629427), (-11.05109557, 9.844454617))
                ThreePointArc((-11.05109557, 9.844454617), (-11.696720909, 9.067895014), (-12.287884892, 8.249114188))
                Line((-12.287884892, 8.249114188), (-12.895428325, 8.599879553))
                ThreePointArc((-12.895428325, 8.599879553), (-13.423393759, 7.75), (-13.895428325, 6.867828745))
            make_face()
        extrude(amount=EXTRUDE_1_DEPTH, both=True)

    # Эскиз5 → Бобышка-Вытянуть2 (add, through all)
    with SkipClean():  # the faces are left unmerged after this step: merging them gives an invalid solid
        with BuildSketch(Plane.XY.offset(3)):
            with BuildLine():
                Line((1.1, 0.944722181), (1.1, -0.944722181))
                ThreePointArc((1.1, -0.944722181), (1.45, 0), (1.1, 0.944722181))
            make_face()
        extrude(amount=-EXTRUDE_2_DEPTH)


solid = part.part
